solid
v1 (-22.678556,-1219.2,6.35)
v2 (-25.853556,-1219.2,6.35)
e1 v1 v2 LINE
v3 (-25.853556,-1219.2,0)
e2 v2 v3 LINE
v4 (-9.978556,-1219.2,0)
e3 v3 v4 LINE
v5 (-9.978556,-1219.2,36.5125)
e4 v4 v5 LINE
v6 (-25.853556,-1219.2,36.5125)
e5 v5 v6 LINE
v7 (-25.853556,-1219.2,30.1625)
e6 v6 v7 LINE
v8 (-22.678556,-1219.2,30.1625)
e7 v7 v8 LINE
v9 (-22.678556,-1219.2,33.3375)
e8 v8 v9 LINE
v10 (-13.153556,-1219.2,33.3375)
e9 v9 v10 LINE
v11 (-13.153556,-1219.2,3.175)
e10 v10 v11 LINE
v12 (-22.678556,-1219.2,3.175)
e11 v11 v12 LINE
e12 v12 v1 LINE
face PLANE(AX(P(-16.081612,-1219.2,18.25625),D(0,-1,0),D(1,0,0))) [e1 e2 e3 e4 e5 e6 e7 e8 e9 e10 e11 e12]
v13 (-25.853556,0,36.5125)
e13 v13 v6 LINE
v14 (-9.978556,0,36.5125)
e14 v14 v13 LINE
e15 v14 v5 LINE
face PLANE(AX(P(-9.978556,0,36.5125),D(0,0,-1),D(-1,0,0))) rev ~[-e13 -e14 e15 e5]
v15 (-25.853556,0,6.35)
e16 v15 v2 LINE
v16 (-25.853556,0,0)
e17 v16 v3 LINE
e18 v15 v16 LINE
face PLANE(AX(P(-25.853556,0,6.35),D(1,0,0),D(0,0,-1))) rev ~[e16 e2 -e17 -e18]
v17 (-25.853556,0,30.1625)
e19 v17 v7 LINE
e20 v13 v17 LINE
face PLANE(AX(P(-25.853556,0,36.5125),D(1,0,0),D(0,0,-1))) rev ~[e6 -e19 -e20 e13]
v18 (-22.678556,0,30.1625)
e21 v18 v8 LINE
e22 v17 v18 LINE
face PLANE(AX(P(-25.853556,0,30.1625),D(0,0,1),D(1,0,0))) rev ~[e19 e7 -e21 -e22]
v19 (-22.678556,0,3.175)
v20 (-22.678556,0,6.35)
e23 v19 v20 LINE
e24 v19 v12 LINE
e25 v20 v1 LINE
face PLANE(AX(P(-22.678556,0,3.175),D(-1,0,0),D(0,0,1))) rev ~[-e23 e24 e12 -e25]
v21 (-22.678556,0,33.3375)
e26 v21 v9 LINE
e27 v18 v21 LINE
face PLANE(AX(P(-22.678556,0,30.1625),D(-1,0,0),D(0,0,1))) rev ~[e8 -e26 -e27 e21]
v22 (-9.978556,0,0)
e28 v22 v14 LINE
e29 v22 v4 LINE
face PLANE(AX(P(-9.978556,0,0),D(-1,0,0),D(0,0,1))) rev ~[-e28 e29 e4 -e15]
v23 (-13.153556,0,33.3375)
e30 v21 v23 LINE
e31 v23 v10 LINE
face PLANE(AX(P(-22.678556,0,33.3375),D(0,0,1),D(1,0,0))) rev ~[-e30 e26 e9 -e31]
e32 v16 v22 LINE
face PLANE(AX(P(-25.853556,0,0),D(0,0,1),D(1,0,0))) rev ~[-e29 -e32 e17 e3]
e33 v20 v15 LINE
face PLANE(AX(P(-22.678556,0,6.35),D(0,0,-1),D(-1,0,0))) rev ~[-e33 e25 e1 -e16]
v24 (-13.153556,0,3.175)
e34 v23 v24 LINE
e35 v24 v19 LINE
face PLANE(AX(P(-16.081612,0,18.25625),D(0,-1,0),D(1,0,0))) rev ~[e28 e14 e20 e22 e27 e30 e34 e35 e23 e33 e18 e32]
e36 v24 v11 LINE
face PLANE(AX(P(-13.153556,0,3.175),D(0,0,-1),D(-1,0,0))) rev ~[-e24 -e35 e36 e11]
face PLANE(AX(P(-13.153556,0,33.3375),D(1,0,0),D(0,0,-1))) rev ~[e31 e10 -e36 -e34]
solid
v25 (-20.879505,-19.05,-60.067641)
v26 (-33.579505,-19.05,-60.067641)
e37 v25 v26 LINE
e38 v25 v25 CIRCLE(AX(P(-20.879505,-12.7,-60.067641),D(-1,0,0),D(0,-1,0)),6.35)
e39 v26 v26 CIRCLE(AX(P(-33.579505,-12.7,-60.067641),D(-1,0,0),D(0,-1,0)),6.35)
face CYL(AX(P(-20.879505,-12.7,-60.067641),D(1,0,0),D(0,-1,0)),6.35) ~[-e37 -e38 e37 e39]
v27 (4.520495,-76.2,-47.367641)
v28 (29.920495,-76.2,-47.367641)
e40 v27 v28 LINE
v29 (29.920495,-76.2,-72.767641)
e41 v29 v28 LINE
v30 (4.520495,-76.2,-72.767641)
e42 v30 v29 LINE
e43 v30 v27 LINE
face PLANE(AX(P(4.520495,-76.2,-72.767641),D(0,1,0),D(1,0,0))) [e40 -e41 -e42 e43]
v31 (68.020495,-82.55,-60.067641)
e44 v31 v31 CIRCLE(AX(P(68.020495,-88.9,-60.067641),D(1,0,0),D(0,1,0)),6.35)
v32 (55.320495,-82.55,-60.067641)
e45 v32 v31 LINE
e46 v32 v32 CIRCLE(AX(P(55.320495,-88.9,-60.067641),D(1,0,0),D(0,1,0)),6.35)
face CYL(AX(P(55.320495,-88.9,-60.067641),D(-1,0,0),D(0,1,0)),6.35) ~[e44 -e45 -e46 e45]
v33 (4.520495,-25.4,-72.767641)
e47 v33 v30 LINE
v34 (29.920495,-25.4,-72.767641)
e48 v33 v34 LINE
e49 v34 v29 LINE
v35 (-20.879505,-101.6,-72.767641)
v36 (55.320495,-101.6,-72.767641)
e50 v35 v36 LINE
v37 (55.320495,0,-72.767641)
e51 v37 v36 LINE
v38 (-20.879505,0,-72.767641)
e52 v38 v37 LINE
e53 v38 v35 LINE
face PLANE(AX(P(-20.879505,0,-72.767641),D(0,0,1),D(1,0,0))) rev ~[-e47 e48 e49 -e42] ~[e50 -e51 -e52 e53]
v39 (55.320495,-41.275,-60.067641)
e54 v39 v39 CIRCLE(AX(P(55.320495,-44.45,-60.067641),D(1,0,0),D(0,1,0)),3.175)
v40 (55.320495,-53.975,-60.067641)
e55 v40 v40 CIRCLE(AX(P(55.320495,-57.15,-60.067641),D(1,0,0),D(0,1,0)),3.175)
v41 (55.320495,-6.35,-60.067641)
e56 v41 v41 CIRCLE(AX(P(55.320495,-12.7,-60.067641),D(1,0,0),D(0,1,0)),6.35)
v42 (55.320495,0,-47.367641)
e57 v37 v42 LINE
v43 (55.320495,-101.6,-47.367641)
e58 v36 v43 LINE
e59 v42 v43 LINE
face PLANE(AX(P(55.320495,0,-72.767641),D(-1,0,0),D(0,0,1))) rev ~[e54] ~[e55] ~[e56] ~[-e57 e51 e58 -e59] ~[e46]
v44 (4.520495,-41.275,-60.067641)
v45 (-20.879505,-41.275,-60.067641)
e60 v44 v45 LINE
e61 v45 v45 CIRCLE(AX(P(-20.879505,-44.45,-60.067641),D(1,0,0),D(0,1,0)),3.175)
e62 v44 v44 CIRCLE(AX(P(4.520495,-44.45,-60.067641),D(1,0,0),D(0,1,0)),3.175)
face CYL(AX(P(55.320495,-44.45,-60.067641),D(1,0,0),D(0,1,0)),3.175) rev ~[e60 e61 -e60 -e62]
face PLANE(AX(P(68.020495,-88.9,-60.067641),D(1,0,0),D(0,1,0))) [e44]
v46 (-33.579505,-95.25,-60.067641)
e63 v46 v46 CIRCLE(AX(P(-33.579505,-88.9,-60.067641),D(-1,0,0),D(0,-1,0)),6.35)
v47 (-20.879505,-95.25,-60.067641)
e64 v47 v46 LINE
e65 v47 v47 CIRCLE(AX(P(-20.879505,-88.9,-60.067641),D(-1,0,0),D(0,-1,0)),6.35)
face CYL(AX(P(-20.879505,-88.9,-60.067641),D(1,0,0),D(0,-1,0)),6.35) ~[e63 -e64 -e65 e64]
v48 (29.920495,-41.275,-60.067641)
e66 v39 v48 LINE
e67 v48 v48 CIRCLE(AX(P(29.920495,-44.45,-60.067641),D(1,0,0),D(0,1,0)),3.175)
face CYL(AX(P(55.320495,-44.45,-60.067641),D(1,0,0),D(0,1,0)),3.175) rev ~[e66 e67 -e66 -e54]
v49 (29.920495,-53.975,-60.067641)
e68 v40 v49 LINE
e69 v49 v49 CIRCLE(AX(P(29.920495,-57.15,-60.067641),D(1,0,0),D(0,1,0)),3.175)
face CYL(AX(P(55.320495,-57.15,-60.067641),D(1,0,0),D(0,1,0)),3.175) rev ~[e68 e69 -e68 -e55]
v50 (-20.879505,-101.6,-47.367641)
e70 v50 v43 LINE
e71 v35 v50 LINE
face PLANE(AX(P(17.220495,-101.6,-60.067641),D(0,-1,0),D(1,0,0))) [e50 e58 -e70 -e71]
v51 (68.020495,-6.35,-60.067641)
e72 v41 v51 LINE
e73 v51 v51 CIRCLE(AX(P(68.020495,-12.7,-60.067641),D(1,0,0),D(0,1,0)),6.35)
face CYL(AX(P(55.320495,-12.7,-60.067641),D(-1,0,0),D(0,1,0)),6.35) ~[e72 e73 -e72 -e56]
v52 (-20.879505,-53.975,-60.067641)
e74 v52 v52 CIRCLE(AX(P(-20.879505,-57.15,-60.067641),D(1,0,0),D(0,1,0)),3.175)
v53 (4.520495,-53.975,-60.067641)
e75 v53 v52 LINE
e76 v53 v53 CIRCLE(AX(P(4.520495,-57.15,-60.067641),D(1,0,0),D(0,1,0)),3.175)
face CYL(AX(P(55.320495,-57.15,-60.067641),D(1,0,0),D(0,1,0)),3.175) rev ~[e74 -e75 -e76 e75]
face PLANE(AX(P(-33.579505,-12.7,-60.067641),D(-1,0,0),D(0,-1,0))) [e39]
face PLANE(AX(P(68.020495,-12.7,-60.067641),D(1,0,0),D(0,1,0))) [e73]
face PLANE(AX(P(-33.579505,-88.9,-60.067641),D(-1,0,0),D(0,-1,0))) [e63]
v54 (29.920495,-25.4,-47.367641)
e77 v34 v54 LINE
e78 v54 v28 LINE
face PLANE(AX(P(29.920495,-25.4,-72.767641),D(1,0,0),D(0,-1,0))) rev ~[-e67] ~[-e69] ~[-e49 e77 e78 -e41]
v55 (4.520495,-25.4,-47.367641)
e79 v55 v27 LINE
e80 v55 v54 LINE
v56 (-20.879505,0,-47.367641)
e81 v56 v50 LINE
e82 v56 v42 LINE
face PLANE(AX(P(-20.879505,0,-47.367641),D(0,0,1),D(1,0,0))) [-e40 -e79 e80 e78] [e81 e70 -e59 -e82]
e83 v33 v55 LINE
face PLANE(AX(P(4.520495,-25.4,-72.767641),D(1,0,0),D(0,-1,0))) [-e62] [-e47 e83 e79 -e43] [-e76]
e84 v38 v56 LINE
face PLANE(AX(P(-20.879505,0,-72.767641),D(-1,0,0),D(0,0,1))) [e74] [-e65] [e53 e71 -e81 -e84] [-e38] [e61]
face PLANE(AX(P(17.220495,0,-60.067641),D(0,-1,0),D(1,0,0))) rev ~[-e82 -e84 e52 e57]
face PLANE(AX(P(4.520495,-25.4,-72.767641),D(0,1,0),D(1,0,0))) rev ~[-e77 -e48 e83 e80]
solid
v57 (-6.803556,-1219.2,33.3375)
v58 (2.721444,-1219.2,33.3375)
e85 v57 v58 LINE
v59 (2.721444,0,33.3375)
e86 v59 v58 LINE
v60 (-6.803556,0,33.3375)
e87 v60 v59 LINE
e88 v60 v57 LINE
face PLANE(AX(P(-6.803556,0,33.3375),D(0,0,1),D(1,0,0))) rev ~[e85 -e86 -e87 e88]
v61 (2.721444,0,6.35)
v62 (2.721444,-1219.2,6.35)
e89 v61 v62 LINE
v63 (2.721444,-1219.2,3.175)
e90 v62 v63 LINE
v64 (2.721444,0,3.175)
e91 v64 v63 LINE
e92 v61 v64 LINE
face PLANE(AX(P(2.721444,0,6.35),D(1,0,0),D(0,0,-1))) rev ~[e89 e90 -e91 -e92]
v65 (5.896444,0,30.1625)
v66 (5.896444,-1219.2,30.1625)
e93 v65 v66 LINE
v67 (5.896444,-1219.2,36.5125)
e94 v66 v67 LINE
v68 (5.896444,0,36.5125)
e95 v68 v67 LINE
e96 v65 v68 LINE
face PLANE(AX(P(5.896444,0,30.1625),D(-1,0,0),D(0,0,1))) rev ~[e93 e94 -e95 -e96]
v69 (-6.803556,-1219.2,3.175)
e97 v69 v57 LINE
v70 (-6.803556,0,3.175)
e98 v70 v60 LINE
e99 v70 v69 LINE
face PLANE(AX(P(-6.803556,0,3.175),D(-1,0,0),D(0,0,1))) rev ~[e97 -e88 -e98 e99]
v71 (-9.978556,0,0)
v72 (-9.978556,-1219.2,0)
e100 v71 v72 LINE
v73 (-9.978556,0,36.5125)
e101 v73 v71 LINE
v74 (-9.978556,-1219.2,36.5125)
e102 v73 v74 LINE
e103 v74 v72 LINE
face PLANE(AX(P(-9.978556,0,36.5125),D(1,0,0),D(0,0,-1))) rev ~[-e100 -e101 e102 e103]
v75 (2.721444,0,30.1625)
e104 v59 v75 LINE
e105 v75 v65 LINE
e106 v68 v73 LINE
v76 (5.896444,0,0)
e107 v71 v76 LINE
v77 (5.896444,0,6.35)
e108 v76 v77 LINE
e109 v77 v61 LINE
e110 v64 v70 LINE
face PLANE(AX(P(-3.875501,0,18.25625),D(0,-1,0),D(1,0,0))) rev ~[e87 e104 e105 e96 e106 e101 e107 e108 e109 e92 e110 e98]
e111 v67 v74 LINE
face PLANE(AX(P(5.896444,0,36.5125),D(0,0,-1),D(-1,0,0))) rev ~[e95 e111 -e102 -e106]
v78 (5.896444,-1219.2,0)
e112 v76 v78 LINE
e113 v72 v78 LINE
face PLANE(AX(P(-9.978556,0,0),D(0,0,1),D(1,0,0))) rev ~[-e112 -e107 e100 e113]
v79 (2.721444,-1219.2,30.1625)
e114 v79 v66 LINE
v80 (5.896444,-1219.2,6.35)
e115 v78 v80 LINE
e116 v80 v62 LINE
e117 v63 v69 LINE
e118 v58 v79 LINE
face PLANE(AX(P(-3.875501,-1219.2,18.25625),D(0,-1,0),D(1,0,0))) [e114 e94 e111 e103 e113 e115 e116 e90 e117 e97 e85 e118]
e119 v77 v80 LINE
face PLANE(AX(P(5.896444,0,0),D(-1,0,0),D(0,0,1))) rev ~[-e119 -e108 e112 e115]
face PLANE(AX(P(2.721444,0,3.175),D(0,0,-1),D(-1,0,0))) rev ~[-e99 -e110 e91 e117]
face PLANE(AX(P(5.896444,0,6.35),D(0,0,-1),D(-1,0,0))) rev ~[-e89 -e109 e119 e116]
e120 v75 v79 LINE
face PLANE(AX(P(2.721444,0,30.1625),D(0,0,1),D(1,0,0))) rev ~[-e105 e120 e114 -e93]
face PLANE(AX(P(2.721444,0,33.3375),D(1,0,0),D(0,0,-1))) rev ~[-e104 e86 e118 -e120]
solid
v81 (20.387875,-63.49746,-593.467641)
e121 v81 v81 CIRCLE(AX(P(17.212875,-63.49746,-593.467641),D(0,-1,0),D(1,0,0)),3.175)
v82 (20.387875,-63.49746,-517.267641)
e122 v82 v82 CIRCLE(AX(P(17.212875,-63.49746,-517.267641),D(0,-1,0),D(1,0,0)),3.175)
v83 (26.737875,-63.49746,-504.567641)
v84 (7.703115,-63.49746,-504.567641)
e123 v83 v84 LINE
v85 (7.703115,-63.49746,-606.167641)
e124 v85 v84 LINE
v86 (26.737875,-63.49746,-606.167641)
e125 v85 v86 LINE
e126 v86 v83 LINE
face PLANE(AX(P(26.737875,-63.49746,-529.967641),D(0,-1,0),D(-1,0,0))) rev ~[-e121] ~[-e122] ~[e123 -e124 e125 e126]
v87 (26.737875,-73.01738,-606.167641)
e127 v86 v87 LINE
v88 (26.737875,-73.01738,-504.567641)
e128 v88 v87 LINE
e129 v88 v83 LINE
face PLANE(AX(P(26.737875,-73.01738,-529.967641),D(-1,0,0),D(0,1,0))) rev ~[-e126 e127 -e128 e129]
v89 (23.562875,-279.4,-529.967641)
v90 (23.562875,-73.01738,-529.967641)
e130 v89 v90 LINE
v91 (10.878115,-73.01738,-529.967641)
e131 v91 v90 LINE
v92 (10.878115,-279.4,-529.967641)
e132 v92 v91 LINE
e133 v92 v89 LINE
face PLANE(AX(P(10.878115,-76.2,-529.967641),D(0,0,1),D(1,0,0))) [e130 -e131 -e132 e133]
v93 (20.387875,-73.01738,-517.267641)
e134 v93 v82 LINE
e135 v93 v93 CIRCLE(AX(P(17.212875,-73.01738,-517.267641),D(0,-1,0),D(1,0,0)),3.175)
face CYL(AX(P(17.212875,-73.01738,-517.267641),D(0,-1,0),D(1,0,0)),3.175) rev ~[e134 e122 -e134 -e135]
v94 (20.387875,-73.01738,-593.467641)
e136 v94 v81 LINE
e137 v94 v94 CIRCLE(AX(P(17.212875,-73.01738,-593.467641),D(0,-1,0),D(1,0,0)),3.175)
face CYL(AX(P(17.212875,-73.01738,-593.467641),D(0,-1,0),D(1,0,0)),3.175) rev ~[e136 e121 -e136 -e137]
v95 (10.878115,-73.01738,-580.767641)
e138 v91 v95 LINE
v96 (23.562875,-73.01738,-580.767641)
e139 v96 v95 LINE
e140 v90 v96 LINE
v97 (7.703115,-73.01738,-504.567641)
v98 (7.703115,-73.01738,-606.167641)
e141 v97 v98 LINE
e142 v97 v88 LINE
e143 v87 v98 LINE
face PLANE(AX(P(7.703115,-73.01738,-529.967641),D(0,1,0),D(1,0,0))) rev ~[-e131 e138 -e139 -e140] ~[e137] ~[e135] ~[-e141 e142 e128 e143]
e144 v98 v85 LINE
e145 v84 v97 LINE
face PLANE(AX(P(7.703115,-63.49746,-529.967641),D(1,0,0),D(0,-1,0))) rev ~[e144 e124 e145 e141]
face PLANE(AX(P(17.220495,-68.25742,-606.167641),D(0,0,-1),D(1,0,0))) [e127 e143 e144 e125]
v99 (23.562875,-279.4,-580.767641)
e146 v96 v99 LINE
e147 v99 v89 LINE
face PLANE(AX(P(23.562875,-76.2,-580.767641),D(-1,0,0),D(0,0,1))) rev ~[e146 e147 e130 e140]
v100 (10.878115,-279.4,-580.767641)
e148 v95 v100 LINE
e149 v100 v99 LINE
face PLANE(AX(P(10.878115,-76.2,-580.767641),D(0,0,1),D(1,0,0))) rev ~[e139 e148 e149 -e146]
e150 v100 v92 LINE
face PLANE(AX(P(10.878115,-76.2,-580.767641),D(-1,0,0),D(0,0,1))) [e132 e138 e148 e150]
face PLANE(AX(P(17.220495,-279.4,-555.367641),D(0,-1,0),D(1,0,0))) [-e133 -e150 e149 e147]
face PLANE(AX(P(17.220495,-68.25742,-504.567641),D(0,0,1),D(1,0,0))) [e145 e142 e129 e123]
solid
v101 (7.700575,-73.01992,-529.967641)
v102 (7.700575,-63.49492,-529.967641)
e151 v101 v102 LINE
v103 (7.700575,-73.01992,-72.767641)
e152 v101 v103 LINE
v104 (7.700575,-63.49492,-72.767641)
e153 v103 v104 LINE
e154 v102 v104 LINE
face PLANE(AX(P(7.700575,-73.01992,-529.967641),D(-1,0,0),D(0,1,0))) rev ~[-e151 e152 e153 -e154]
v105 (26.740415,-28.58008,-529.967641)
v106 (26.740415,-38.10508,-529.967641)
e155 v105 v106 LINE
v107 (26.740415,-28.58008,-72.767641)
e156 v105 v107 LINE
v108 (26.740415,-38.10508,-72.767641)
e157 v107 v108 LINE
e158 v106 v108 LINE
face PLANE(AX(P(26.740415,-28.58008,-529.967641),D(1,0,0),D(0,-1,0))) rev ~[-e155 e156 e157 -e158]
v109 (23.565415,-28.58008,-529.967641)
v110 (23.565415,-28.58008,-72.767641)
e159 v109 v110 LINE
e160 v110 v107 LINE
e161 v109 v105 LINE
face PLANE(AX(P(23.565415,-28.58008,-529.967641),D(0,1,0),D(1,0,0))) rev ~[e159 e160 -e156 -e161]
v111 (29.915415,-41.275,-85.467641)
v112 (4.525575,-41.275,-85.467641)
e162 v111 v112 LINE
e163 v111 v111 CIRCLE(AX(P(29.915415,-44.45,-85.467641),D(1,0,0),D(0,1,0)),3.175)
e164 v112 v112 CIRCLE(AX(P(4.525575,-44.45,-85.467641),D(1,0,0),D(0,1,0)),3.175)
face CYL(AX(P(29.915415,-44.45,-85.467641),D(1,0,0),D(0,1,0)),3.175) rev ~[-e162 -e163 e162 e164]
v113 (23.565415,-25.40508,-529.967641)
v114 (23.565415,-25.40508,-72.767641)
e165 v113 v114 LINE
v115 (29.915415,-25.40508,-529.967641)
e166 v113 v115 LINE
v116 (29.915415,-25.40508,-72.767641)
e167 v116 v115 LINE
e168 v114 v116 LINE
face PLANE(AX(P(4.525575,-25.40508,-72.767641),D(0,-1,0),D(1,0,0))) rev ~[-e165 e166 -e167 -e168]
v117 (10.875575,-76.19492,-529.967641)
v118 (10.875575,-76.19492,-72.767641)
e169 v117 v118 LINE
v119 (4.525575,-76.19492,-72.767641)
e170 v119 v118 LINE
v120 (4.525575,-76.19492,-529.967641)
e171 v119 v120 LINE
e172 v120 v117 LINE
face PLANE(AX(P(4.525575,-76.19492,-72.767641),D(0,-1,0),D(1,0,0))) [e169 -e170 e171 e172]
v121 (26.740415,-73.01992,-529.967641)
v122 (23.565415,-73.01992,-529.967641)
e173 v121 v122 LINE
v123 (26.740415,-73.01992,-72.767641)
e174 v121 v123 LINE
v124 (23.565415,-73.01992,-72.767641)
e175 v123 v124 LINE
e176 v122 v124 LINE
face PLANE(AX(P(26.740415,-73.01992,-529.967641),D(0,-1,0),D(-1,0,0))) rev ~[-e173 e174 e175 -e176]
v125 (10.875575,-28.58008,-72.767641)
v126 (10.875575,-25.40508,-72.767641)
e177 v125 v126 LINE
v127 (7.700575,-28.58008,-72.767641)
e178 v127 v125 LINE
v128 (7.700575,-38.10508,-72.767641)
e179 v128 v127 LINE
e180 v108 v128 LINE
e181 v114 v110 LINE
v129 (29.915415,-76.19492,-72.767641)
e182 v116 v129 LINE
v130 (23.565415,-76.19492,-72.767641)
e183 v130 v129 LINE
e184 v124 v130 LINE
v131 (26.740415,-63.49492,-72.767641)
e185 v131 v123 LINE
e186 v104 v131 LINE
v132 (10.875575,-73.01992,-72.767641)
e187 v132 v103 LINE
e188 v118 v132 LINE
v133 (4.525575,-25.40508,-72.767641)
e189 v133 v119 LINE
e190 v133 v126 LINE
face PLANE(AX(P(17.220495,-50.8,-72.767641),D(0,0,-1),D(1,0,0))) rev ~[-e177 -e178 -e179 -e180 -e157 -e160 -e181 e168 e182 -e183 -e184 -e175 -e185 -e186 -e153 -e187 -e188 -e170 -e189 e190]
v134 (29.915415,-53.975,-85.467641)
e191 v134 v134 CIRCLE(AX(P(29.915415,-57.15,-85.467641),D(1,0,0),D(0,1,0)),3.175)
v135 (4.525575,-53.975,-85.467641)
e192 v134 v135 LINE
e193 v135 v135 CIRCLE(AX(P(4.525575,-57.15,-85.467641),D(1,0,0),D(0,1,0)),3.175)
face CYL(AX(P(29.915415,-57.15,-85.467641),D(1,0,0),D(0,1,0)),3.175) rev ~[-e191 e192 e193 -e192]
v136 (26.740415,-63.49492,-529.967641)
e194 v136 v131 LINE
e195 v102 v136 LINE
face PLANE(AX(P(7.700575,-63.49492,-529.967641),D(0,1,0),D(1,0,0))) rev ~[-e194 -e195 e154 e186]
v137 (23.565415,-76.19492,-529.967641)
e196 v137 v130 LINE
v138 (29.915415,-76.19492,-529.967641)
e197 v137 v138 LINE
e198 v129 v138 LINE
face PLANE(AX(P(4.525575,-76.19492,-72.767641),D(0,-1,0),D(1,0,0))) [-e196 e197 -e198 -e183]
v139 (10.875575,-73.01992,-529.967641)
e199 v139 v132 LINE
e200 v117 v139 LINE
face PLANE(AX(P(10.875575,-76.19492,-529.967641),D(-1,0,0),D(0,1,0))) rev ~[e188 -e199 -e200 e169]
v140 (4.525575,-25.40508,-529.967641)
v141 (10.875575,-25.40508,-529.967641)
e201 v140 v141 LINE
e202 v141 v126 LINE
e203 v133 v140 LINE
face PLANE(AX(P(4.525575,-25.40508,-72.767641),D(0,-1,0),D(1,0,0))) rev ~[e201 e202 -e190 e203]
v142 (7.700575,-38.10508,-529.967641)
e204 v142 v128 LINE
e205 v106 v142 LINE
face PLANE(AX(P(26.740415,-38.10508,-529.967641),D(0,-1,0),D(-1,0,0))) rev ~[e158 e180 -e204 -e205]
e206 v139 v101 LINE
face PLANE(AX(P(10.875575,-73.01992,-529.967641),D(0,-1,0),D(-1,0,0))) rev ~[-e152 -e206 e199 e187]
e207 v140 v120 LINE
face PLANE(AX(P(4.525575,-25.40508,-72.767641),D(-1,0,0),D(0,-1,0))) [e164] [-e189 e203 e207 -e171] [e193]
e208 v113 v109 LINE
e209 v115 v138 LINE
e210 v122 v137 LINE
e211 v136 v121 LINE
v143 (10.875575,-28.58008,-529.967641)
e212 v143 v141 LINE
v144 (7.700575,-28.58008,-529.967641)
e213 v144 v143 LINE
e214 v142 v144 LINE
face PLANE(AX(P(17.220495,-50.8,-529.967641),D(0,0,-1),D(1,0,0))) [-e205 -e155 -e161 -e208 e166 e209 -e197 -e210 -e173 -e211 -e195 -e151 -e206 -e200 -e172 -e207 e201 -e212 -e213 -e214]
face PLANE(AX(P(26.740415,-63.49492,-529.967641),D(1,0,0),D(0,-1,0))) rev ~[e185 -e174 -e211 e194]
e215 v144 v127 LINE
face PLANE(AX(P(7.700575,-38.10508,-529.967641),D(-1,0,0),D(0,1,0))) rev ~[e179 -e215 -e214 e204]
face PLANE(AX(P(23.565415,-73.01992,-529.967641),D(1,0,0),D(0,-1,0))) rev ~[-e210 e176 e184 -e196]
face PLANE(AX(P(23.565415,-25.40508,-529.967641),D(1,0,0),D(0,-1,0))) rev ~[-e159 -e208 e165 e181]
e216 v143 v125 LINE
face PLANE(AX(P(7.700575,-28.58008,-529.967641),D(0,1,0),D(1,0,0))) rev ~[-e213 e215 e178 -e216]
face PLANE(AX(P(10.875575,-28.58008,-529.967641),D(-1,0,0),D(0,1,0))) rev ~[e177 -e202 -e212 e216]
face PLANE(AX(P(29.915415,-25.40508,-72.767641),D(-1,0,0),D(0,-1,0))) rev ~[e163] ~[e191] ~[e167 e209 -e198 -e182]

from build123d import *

# Parameters (mm, degrees)
F1_DEPTH  = 1219.2
F2_DEPTH  = 1219.2
F3_W      = 76.2
F3_H      = 25.4
F4_DEPTH  = 101.6
F5_R      = 6.35
F6_DEPTH  = 12.7
F7_R      = 6.35
F8_DEPTH  = 12.7
F9_W      = 25.4
F9_H      = 50.8
F10_DEPTH = 25.4
F11_R     = 3.175
F12_DEPTH = 88.901
F13_W     = 25.38984
F13_H     = 50.78984
F14_DEPTH = 457.2
F16_DEPTH = 566.481141426
F17_R     = 3.175
F18_DEPTH = 63.49592
F20_DEPTH = 50.8
F21_W     = 12.68476
F21_H     = 50.8
F22_DEPTH = 203.2
F24_DEPTH = 25.4
F26_DEPTH = 25.4
F27_R     = 3.175
F28_DEPTH = 73.01838


with BuildPart() as f1:
    # F0 (on Front) → F1 (new body)
    with BuildSketch(Plane.XZ):
        Polygon((-25.8535564797, 36.5125), (-25.8535564797, 30.1625), (-22.6785564797, 30.1625), (-22.6785564797, 33.3375), (-13.1535564797, 33.3375), (-13.1535564797, 3.175), (-22.6785564797, 3.175), (-22.6785564797, 6.35), (-25.8535564797, 6.35), (-25.8535564797, 0), (-9.9785564797, 0), (-9.9785564797, 36.5125), align=None)
    extrude(amount=F1_DEPTH)


with BuildPart() as f2:
    # F0 (on Front) → F2 (new body)
    with BuildSketch(Plane.XZ):
        Polygon((5.8964435203, 36.5125), (-9.9785564797, 36.5125), (-9.9785564797, 0), (5.8964435203, 0), (5.8964435203, 6.35), (2.7214435203, 6.35), (2.7214435203, 3.175), (-6.8035564797, 3.175), (-6.8035564797, 33.3375), (2.7214435203, 33.3375), (2.7214435203, 30.1625), (5.8964435203, 30.1625), align=None)
    extrude(amount=F2_DEPTH)


with BuildPart() as f4:
    # F3 (on Front) → F4 (new body)
    with BuildSketch(Plane.XZ):
        with Locations((17.2204952687, -60.067641426)):
            Rectangle(F3_W, F3_H)
    extrude(amount=F4_DEPTH)

    # F5 (on face) → F6 (join)
    with BuildSketch(Plane.YZ.offset(55.3204952687)):
        with Locations((-88.9, -60.067641426)):
            Circle(F5_R)
        with Locations((-12.7, -60.067641426)):
            Circle(F5_R)
    extrude(amount=F6_DEPTH)

    # F7 (on face) → F8 (join)
    with BuildSketch(Plane(origin=(-20.8795047313, 0, 0), x_dir=(0, -1, 0), z_dir=(-1, 0, 0))):
        with Locations((12.7, -60.067641426)):
            Circle(F7_R)
        with Locations((88.9, -60.067641426)):
            Circle(F7_R)
    extrude(amount=F8_DEPTH)

    # F9 (on face) → F10 (cut)
    with BuildSketch(Plane(origin=(0, 0, -72.767641426), x_dir=(1, 0, 0), z_dir=(0, 0, -1))):
        with Locations((17.2204952687, 50.8)):
            Rectangle(F9_W, F9_H)
    extrude(amount=-F10_DEPTH, mode=Mode.SUBTRACT)

    # F11 (on face) → F12 (cut, through all)
    with BuildSketch(Plane.YZ.offset(55.3204952687)):
        with Locations((-57.15, -60.067641426)):
            Circle(F11_R)
        with Locations((-44.45, -60.067641426)):
            Circle(F11_R)
    extrude(amount=-F12_DEPTH, mode=Mode.SUBTRACT)


with BuildPart() as f14:
    # F13 (on face) → F14 (new body)
    with BuildSketch(Plane(origin=(0, 0, -72.767641426), x_dir=(1, 0, 0), z_dir=(0, 0, -1))):
        with Locations((17.2204952687, 50.8)):
            Rectangle(F13_W, F13_H)
    extrude(amount=F14_DEPTH)

    # F15 (on face) → F16 (cut, through all)
    with BuildSketch(Plane(origin=(0, 0, -529.967641426), x_dir=(1, 0, 0), z_dir=(0, 0, -1))):
        Polygon((23.5654152687, 73.01992), (23.5654152687, 76.19492), (10.8755752687, 76.19492), (10.8755752687, 73.01992), (7.7005752687, 73.01992), (7.7005752687, 63.49492), (26.7404152687, 63.49492), (26.7404152687, 73.01992), align=None)
        Polygon((10.8755752687, 25.40508), (23.5654152687, 25.40508), (23.5654152687, 28.58008), (26.7404152687, 28.58008), (26.7404152687, 38.10508), (7.7005752687, 38.10508), (7.7005752687, 28.58008), (10.8755752687, 28.58008), align=None)
    extrude(amount=-F16_DEPTH, mode=Mode.SUBTRACT)

    # F17 (on face) → F18 (cut, through all)
    with BuildSketch(Plane.YZ.offset(29.9154152687)):
        with Locations((-57.15, -85.467641426)):
            Circle(F17_R)
        with Locations((-44.45, -85.467641426)):
            Circle(F17_R)
    extrude(amount=-F18_DEPTH, mode=Mode.SUBTRACT)


with BuildPart() as f20:
    # F19 (on face) → F20 (new body)
    with BuildSketch(Plane(origin=(0, 0, -529.967641426), x_dir=(1, 0, 0), z_dir=(0, 0, -1))):
        Polygon((23.5628752687, 73.01738), (23.5628752687, 76.2), (10.8781152687, 76.2), (10.8781152687, 73.01738), (7.7031152687, 73.01738), (7.7031152687, 63.49746), (26.7378752687, 63.49746), (26.7378752687, 73.01738), align=None)
    extrude(amount=F20_DEPTH)

    # F21 (on face) → F22 (join)
    with BuildSketch(Plane.XZ.offset(76.2)):
        with Locations((17.2204952687, -555.367641426)):
            Rectangle(F21_W, F21_H)
    extrude(amount=F22_DEPTH)

    # F23 (on face) → F24 (join)
    with BuildSketch(Plane(origin=(0, 0, -580.767641426), x_dir=(1, 0, 0), z_dir=(0, 0, -1))):
        Polygon((26.7378752687, 63.49746), (26.7378752687, 73.01738), (23.5628752687, 73.01738), (10.8781152687, 73.01738), (7.7031152687, 73.01738), (7.7031152687, 63.49746), align=None)
    extrude(amount=F24_DEPTH)

    # F25 (on face) → F26 (join)
    with BuildSketch(Plane.XY.offset(-529.967641426)):
        Polygon((23.5628752687, -73.01738), (26.7378752687, -73.01738), (26.7378752687, -63.49746), (7.7031152687, -63.49746), (7.7031152687, -73.01738), (10.8781152687, -73.01738), align=None)
    extrude(amount=F26_DEPTH)

    # F27 (on face) → F28 (cut, through all)
    with BuildSketch(Plane.XZ.offset(73.01738)):
        with Locations((17.2128752687, -517.267641426)):
            Circle(F27_R)
        with Locations((17.2128752687, -593.467641426)):
            Circle(F27_R)
    extrude(amount=-F28_DEPTH, mode=Mode.SUBTRACT)


solid = Compound([f1.part, f2.part, f4.part, f14.part, f20.part])
